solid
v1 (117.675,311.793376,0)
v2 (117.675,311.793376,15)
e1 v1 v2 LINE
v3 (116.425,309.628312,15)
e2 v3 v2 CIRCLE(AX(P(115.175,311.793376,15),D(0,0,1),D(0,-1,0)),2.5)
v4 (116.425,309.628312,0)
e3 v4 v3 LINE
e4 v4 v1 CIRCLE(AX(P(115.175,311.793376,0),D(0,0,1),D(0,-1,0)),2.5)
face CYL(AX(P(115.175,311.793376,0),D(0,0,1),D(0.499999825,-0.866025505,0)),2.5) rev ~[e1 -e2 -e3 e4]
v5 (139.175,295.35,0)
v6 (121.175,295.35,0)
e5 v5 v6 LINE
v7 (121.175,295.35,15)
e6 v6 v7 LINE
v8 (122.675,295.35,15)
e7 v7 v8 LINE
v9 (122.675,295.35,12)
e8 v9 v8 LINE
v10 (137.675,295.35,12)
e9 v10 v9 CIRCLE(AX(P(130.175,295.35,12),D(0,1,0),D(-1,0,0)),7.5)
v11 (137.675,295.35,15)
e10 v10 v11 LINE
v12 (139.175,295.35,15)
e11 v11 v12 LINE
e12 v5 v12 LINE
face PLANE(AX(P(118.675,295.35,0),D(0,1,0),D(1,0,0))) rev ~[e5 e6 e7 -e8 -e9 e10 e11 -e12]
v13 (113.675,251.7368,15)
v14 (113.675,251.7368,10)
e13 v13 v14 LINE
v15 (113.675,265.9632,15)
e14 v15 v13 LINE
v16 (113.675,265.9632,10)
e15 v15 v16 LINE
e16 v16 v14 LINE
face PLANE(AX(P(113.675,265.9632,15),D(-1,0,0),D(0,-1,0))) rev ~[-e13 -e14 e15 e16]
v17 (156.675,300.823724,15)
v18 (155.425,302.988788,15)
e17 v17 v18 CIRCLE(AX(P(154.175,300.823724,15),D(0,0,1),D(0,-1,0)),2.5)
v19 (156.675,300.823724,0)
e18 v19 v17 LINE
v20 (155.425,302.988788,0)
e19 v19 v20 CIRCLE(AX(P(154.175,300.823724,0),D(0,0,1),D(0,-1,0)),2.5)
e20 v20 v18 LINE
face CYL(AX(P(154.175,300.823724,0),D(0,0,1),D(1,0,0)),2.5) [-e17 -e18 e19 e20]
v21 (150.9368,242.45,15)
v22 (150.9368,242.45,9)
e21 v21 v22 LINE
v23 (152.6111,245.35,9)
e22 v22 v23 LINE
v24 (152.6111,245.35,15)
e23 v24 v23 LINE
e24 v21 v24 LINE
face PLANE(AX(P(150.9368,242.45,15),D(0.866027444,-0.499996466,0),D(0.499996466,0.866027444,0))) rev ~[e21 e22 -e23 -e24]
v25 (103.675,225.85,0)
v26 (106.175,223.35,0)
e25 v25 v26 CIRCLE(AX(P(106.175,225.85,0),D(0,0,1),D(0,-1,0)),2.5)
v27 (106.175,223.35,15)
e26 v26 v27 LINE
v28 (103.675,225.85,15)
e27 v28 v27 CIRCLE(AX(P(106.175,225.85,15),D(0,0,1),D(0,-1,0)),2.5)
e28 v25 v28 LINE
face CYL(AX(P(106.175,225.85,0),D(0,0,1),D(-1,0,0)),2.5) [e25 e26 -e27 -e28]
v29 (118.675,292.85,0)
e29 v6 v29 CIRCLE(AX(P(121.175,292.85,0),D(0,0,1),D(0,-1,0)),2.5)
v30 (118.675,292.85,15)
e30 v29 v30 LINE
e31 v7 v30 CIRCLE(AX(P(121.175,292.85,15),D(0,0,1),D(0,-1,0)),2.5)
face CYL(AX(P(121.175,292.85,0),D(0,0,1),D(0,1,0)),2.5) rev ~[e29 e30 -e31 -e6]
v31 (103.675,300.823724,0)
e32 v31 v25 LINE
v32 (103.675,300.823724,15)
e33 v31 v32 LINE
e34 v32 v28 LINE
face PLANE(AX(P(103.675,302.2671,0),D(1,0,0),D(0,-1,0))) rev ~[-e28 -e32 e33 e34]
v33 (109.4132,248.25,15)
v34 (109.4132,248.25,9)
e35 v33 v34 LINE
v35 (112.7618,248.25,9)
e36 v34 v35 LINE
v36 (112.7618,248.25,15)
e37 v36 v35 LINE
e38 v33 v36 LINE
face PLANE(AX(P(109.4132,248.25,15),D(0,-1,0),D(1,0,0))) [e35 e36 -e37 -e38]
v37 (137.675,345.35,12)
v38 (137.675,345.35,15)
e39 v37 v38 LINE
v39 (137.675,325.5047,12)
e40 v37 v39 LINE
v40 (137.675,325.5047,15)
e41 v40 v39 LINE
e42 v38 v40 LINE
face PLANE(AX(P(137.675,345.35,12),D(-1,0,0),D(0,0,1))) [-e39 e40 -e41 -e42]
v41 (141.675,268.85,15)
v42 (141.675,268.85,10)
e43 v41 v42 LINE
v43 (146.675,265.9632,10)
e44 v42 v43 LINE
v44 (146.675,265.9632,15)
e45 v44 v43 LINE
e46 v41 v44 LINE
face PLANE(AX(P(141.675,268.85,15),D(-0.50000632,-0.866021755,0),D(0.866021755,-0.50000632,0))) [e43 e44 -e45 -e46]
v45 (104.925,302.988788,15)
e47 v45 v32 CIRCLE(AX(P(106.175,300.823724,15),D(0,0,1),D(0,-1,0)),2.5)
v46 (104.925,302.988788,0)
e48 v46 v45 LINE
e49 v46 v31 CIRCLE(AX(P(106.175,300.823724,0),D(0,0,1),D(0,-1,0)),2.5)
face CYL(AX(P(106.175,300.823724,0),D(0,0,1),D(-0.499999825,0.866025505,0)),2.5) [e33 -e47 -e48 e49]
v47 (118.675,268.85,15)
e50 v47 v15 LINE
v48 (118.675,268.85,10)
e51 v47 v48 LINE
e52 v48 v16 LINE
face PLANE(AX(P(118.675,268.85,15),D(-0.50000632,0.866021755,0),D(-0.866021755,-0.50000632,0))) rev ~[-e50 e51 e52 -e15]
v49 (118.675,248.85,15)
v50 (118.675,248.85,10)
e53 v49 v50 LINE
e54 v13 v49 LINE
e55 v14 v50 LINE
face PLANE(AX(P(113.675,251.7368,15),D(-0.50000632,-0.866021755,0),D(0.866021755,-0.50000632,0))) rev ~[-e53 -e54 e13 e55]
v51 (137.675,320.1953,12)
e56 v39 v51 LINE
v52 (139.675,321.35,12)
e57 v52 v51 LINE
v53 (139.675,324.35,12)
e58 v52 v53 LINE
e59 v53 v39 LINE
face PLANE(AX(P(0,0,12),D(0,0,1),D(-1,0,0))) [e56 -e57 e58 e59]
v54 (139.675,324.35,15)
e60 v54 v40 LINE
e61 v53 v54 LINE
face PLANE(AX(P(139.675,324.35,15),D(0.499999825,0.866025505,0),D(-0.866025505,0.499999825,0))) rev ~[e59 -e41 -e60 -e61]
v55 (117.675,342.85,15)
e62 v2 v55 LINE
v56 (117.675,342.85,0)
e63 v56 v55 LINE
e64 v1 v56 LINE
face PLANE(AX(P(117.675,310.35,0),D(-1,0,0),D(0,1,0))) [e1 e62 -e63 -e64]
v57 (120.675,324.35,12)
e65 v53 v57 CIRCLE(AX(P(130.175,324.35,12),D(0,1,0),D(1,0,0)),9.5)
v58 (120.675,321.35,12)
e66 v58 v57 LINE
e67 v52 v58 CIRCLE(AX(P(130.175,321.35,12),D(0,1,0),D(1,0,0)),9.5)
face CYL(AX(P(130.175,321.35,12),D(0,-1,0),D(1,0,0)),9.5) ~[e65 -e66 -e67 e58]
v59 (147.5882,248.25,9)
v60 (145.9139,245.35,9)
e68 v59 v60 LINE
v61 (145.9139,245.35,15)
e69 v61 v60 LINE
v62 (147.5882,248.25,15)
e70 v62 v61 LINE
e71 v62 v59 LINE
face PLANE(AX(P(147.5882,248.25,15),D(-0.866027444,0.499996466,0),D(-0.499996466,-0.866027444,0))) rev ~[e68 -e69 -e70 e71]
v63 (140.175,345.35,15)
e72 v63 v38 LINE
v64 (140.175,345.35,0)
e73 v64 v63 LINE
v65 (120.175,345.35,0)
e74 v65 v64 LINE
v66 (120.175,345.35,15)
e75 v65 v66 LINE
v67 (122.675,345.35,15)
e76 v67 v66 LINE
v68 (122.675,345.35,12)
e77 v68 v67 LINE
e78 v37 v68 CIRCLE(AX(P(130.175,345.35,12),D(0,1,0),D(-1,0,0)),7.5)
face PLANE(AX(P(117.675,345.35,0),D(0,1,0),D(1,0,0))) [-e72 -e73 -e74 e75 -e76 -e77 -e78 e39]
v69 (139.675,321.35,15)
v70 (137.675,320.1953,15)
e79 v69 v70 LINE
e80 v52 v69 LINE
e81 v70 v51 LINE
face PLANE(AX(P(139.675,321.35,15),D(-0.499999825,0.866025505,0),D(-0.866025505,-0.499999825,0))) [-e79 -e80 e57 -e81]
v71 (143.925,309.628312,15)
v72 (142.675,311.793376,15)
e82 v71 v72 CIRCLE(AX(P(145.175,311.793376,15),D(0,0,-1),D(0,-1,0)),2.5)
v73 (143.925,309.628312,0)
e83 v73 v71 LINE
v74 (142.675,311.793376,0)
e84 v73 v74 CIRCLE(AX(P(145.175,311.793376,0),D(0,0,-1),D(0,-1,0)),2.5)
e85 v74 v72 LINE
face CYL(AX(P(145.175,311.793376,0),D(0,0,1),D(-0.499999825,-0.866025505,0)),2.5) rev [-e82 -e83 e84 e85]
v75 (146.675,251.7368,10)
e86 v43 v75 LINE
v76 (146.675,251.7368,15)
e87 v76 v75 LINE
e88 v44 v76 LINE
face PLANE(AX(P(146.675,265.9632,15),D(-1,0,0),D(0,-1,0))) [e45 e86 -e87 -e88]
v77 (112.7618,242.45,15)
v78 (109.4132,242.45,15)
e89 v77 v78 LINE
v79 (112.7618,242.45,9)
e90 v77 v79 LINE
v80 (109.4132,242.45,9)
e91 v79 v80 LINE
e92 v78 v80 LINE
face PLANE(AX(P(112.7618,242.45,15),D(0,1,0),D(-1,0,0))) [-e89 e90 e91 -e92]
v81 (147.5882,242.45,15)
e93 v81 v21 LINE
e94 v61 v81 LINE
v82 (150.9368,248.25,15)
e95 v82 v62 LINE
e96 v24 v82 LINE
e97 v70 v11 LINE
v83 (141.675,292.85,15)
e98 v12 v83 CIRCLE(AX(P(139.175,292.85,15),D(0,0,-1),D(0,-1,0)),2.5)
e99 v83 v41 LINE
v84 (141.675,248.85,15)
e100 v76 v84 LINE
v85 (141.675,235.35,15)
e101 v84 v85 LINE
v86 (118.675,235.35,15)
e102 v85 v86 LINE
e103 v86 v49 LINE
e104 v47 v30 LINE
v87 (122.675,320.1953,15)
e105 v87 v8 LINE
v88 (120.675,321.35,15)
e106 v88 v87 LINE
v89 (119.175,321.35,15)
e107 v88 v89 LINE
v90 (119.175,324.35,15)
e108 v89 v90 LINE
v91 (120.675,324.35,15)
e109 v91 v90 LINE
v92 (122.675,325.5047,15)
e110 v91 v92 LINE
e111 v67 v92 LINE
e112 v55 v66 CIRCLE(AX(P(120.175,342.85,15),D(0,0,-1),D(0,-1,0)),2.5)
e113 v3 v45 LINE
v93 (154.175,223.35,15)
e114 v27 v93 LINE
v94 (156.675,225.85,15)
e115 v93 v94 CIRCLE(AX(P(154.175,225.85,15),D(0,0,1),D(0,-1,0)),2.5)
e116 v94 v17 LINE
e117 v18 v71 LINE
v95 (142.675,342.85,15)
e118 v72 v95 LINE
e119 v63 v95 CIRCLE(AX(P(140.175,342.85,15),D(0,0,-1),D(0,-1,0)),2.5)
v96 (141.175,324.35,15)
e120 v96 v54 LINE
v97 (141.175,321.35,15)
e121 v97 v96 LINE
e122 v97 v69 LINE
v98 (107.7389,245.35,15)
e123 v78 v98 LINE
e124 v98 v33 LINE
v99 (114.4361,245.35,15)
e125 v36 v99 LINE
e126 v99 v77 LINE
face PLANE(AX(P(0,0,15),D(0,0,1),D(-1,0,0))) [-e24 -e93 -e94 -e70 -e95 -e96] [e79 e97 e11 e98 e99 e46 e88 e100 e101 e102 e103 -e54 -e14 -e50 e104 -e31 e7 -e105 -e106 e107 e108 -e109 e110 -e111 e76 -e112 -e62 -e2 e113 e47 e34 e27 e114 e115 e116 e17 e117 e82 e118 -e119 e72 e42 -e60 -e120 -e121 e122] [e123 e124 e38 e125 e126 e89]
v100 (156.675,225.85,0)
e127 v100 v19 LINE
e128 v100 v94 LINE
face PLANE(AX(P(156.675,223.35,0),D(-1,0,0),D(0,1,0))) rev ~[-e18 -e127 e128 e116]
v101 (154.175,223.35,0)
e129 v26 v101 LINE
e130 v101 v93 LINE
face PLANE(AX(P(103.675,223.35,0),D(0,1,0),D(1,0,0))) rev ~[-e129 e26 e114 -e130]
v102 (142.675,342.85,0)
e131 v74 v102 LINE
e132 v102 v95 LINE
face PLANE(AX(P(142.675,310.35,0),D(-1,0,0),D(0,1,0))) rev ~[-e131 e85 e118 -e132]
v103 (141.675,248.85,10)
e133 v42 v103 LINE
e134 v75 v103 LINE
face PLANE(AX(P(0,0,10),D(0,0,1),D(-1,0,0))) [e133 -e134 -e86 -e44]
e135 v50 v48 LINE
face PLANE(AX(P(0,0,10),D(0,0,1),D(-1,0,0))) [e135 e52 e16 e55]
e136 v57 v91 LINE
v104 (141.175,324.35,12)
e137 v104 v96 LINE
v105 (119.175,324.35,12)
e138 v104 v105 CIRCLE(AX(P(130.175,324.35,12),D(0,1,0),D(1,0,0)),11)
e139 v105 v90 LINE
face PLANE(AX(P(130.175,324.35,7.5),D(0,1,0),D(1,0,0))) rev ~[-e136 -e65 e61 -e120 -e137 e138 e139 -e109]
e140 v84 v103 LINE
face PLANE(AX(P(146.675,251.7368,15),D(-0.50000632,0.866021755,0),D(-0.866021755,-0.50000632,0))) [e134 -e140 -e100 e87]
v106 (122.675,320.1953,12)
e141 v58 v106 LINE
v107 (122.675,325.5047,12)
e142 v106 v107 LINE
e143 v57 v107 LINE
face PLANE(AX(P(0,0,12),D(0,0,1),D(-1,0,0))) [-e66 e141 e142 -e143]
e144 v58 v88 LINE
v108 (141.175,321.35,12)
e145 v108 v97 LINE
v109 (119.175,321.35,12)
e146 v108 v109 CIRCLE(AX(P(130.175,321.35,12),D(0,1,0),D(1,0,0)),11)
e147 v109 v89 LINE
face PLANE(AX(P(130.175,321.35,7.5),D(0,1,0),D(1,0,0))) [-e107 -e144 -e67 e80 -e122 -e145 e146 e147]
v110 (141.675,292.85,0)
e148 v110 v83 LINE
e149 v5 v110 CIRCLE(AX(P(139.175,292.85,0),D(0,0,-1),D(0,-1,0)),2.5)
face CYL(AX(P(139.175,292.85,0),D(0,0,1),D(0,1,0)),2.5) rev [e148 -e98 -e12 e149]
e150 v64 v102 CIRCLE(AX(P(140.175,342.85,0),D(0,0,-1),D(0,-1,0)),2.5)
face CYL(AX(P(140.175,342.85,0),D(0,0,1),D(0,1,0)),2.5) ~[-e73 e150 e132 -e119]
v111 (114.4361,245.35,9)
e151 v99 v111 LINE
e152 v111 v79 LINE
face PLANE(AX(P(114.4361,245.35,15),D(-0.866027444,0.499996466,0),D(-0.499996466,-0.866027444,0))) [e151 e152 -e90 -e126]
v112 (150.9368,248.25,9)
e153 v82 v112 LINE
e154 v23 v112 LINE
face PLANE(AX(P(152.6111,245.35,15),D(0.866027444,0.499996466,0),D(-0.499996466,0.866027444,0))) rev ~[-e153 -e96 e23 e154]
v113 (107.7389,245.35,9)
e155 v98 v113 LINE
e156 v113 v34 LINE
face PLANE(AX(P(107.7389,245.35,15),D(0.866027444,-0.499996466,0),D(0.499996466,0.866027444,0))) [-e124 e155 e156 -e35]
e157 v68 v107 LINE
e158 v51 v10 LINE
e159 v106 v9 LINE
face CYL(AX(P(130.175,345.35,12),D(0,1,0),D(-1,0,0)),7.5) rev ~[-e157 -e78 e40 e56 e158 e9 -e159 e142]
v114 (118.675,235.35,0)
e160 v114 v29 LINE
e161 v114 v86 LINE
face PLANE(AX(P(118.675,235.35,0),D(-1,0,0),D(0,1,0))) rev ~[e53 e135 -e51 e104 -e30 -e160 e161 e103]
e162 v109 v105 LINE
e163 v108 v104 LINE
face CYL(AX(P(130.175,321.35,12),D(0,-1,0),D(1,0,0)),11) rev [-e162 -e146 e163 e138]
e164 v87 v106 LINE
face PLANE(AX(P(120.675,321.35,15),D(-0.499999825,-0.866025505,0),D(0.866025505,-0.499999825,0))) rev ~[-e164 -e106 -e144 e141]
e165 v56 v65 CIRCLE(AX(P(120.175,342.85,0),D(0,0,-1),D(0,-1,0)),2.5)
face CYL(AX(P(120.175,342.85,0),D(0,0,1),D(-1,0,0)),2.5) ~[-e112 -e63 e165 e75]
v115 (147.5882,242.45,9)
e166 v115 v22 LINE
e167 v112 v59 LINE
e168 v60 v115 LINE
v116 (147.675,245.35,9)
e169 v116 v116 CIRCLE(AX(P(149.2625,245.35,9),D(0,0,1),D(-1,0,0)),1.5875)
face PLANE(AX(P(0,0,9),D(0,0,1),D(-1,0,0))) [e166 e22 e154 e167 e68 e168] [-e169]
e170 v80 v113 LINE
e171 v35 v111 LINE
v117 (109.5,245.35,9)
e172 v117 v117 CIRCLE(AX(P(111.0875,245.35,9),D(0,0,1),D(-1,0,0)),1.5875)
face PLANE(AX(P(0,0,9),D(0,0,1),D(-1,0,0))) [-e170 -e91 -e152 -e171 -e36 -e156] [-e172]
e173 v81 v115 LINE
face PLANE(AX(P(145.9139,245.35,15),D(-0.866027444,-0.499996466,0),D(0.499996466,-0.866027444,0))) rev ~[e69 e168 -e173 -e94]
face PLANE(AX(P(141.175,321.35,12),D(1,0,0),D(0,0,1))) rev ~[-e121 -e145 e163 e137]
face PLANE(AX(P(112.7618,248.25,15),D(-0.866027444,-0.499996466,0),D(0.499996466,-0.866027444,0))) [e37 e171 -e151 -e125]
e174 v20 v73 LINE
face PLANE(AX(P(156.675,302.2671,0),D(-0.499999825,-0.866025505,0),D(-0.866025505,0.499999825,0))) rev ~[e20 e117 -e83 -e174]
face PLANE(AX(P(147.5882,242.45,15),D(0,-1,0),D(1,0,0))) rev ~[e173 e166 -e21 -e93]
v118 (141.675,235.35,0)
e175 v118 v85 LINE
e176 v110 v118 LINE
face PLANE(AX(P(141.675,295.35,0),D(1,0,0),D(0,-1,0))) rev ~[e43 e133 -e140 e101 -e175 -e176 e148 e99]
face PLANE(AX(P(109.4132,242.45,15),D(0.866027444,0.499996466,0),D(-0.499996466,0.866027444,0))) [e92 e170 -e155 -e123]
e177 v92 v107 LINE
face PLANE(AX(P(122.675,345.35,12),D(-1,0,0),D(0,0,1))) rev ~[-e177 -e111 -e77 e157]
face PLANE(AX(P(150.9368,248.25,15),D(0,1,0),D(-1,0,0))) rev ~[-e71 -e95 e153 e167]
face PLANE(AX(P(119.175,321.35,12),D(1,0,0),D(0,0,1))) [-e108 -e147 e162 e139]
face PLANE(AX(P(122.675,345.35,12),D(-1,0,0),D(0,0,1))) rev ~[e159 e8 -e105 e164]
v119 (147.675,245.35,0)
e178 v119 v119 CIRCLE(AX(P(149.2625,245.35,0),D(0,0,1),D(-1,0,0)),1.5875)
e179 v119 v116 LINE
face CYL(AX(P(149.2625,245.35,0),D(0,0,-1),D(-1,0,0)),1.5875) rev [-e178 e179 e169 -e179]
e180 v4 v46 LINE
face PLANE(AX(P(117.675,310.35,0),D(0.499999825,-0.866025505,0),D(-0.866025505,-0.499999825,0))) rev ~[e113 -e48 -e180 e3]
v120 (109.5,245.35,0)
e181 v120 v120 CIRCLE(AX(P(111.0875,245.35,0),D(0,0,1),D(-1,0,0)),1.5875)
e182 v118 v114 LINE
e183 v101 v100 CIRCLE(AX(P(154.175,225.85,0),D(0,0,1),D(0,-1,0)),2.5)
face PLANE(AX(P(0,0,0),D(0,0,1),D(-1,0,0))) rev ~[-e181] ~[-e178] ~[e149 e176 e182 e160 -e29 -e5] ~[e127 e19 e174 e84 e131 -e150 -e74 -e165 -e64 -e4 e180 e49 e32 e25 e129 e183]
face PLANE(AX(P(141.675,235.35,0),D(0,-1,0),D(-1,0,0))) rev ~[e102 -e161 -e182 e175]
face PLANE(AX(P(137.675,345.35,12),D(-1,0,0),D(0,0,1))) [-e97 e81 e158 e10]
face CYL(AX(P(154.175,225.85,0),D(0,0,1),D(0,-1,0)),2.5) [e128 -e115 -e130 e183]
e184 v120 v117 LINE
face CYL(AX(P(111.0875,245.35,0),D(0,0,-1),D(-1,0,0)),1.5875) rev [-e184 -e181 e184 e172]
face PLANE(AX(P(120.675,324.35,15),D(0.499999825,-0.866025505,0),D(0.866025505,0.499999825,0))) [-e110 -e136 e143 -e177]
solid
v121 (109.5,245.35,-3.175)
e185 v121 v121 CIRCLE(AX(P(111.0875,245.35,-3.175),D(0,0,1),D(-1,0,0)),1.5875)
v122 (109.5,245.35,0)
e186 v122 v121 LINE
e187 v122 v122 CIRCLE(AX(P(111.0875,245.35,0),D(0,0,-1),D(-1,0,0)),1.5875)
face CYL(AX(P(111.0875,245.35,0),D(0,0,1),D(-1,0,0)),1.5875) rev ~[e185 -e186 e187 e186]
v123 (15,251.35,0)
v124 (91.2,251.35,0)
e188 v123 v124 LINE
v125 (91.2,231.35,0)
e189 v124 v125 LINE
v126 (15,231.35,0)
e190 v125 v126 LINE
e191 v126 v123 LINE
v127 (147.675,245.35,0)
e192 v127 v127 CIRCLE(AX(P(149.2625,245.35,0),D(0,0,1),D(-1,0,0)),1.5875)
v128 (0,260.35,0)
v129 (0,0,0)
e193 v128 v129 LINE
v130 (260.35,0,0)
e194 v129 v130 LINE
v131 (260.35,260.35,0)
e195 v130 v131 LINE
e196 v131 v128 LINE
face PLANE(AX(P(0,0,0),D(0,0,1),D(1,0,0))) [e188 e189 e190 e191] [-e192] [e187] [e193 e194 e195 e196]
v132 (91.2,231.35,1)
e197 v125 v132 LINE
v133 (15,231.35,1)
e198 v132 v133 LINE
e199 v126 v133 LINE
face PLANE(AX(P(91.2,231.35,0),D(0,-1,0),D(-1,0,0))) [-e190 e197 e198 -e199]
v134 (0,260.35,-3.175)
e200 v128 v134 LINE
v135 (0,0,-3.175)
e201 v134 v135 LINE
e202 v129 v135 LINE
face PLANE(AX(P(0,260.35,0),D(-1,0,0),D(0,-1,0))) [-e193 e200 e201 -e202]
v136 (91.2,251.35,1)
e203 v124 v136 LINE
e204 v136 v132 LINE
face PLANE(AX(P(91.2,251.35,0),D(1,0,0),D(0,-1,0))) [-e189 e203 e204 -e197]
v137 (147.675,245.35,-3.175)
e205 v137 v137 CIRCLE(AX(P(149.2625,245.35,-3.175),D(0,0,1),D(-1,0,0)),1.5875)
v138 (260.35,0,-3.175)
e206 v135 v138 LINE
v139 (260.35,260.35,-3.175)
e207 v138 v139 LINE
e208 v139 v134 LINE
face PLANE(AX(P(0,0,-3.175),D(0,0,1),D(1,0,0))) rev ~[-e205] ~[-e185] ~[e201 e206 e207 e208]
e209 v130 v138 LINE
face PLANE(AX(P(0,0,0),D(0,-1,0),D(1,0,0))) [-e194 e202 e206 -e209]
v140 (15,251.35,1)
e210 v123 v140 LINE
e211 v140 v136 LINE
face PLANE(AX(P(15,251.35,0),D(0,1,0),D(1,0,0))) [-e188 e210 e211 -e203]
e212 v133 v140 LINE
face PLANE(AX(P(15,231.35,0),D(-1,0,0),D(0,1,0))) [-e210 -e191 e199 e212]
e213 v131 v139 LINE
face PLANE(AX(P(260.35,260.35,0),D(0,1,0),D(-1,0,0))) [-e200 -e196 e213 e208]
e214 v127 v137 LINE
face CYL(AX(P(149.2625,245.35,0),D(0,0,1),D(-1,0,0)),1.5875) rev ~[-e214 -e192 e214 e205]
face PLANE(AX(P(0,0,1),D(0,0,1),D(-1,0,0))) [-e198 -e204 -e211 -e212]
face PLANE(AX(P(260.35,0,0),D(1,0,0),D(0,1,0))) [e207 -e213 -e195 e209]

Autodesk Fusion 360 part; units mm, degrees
sketch "Sketch1" plane through (0, 0, 0) normal (0, 0, 1) x (1, 0, 0) in component "BedPlate"
  line L0 (0, 0) -> (260.35, 0)
  line L1 (260.35, 0) -> (260.35, 260.35)
  line L2 (260.35, 260.35) -> (0, 260.35)
  line L3 (0, 260.35) -> (0, 0)
  dimension "d1" = 260.35
  dimension "d2" = 260.35
extrude "Extrude1" add sketch "Sketch1" against normal blind 3.175 makes body 1 in component "BedPlate"
sketch "Sketch2" plane through (0, 0, 0) normal (0, 0, 1) x (-1, 0, 0) in component "BedPlate"
  circle A0 centre (-111.0875, -245.35) radius 1.5875
  circle A1 centre (-149.2625, -245.35) radius 1.5875
  line L0 (-118.675, -245.35) -> (-141.675, -245.35) construction
  line L1 (-260.35, -260.35) -> (0, -260.35)
  line L2 (-130.175, -260.35) -> (-130.175, -245.35) construction
  line L3 (-112.675, -245.35) -> (-147.675, -245.35)
  line L4 (-118.675, -245.35) -> (-118.675, -260.35) construction
  line L5 (-141.675, -245.35) -> (-141.675, -260.35) construction
  dimension "d5" = 23
  dimension "d7" = 3.175
  dimension "d8" = 3.175
  dimension "d9" = 6
  dimension "d10" = 15
extrude "Extrude2" cut sketch "Sketch2" against normal through all bodies 1 in component "BedPlate"
sketch "Sketch1 (2)" plane through (0, 0, 0) normal (0, 0, 1) x (-1, 0, 0) in component "WireSupportBracket"
  line L0 (-103.675, -302.2671) -> (-103.675, -223.35)
  line L1 (-103.675, -223.35) -> (-156.675, -223.35)
  line L2 (-156.675, -223.35) -> (-156.675, -302.2671)
  line L3 (-141.675, -295.35) -> (-141.675, -235.35)
  line L4 (-141.675, -235.35) -> (-118.675, -235.35)
  line L5 (-118.675, -235.35) -> (-118.675, -295.35)
  circle A0 centre (-149.2625, -245.35) radius 1.5875
  circle A1 centre (-111.0875, -245.35) radius 1.5875
  line L6 (-149.2625, -245.35) -> (-111.0875, -245.35) construction
  line L7 (-130.175, -356.4968) -> (-130.175, -223.35) construction
  line L8 (-260.35, -260.35) -> (0, -260.35) construction
  line L9 (-118.675, -295.35) -> (-141.675, -295.35)
  line L10 (-122.675, -345.35) -> (-122.675, -295.35)
  line L11 (-137.675, -295.35) -> (-137.675, -345.35)
  line L12 (-117.675, -310.35) -> (-103.675, -302.2671)
  line L13 (-156.675, -302.2671) -> (-142.675, -310.35)
  line L14 (-117.675, -310.35) -> (-117.675, -345.35)
  line L15 (-142.675, -310.35) -> (-142.675, -345.35)
  line L16 (-122.675, -313.5082) -> (-137.675, -313.5082) construction
  line L17 (-117.675, -345.35) -> (-142.675, -345.35)
  line L18 (-145.9139, -245.35) -> (-147.5882, -242.45)
  line L19 (-147.5882, -242.45) -> (-150.9368, -242.45)
  line L20 (-150.9368, -242.45) -> (-152.6111, -245.35)
  line L21 (-152.6111, -245.35) -> (-150.9368, -248.25)
  line L22 (-150.9368, -248.25) -> (-147.5882, -248.25)
  line L23 (-147.5882, -248.25) -> (-145.9139, -245.35)
  line L24 (-114.4361, -245.35) -> (-112.7618, -242.45)
  line L25 (-112.7618, -242.45) -> (-109.4132, -242.45)
  line L26 (-109.4132, -242.45) -> (-107.7389, -245.35)
  line L27 (-107.7389, -245.35) -> (-109.4132, -248.25)
  line L28 (-109.4132, -248.25) -> (-112.7618, -248.25)
  line L29 (-112.7618, -248.25) -> (-114.4361, -245.35)
  point P0 (0, 0.0158)
  dimension "d12" = 23
  dimension "d14" = 25
  dimension "d15" = 12
  dimension "d16" = 15
  dimension "d18" = 15
  dimension "d19" = 50
  dimension "d20" = 15
  dimension "d21" = 60
  dimension "d22" = 15
  dimension "d23" = 5
  dimension "d25" = 50
  dimension "d26" = 5.8
extrude "Extrude1'" add sketch "Sketch1 (2)" along normal blind 15 separate body contours L0 L1 L2 L3 L4 L5 L9 L10 L11 L12 L13 L14 L15 L17 | L9 L10 L11 L17 | L18 L19 L20 L21 L22 L23 | L24 L25 L26 L27 L28 L29 makes body 2 in component "WireSupportBracket"
extrude "Extrude2'" cut sketch "Sketch1 (2)" against normal blind 6 from surface at 15 contours L18 L19 L20 L21 L22 L23 | L24 L25 L26 L27 L28 L29 bodies 2 in component "WireSupportBracket"
sketch "Sketch2 (2)" plane through (0, 345.35, 0) normal (0, 1, 0) x (-1, 0, 0) in component "WireSupportBracket"
  circle A0 centre (-130.175, 12) radius 7.5
  line L0 (-122.675, 0) -> (-122.675, 19.5)
  line L1 (-137.675, 0) -> (-137.675, 19.5)
  line L2 (-137.675, 19.5) -> (-122.675, 19.5)
  line L3 (-117.675, 0) -> (-142.675, 0) construction
  dimension "d32" = 12
extrude "Extrude3" cut sketch "Sketch2 (2)" against normal up to surface (50 mm away) bodies 2 in component "WireSupportBracket"
ref_plane "WorkPlane1" through (130.175, 321.35, 7.5) normal (0, 1, 0) x (-1, 0, 0) in component "WireSupportBracket"
sketch "Sketch3" plane through (130.175, 321.35, 7.5) normal (0, 1, 0) x (1, 0, 0) in component "WireSupportBracket"
  arc A0 (7.5, -4.5) -> (-7.5, -4.5) centre (0, -4.5) ccw
  line L0 (7.5, -4.5) -> (7.5, -7.5)
  line L1 (-7.5, -4.5) -> (-7.5, -7.5)
  line L2 (-9.5, -4.5) -> (-9.5, -7.5)
  arc A1 (9.5, -4.5) -> (-9.5, -4.5) centre (0, -4.5) ccw
  line L3 (9.5, -4.5) -> (9.5, -7.5)
  line L4 (11, -4.5) -> (11, -7.5)
  arc A2 (11, -4.5) -> (-11, -4.5) centre (0, -4.5) ccw
  line L5 (-11, -4.5) -> (-11, -7.5)
  line L6 (-9.5, -7.5) -> (-11, -7.5)
  line L7 (11, -7.5) -> (9.5, -7.5)
  line L8 (11.5, -7.5) -> (-11.5, -7.5)
  dimension "d36" = 2
  dimension "d38" = 3.5
extrude "Extrude4" cut sketch "Sketch3" along normal blind 3 contours L2 A1 L3 L4 A2 L5 L6 L7 L8 bodies 2 in component "WireSupportBracket"
fillet "Fillet1" radius 2.5 10 edges at (156.675, 223.35, 7.5) (156.675, 302.2671, 7.5) (142.675, 310.35, 7.5) (142.675, 345.35, 7.5) (117.675, 345.35, 7.5) (117.675, 310.35, 7.5) (103.675, 302.2671, 7.5) (103.675, 223.35, 7.5) (141.675, 295.35, 7.5) (118.675, 295.35, 7.5) on bodies 2 in component "WireSupportBracket"
sketch "Sketch3 (2)" plane through (0, 0, 0) normal (0, 0, 1) x (-1, 0, 0) in component "BedPlate"
  line L0 (-15, -251.35) -> (-91.2, -251.35)
  line L1 (-91.2, -251.35) -> (-91.2, -231.35)
  line L2 (-91.2, -231.35) -> (-15, -231.35)
  line L3 (-15, -231.35) -> (-15, -251.35)
  line L4 (0, -260.35) -> (0, 0)
  line L5 (-260.35, -260.35) -> (0, -260.35)
  dimension "d42" = 76.2
  dimension "d43" = 20
  dimension "d44" = 15
  dimension "d45" = 9
extrude "Extrude3'" add sketch "Sketch3 (2)" along normal blind 1 bodies 1 in component "BedPlate"
sketch "Sketch4" plane through (0, 0, 15) normal (0, 0, 1) x (-1, 0, 0) in component "WireSupportBracket"
  line L0 (-141.675, -268.85) -> (-146.675, -265.9632)
  line L1 (-146.675, -265.9632) -> (-146.675, -251.7368)
  line L2 (-146.675, -251.7368) -> (-141.675, -248.85)
  line L3 (-106.175, -223.35) -> (-154.175, -223.35)
  line L4 (-141.675, -292.85) -> (-141.675, -235.35)
  line L5 (-130.175, -223.35) -> (-130.175, -293.582) construction
  line L6 (-146.675, -258.85) -> (-141.675, -258.85) construction
  line L7 (-118.675, -268.85) -> (-113.675, -265.9632)
  line L8 (-113.675, -265.9632) -> (-113.675, -251.7368)
  line L9 (-113.675, -251.7368) -> (-118.675, -248.85)
  line L10 (-118.675, -235.35) -> (-118.675, -292.85)
  line L11 (-141.175, -321.35) -> (-139.675, -321.35)
  line L12 (-139.675, -324.35) -> (-141.175, -324.35)
  line L13 (-137.675, -345.35) -> (-137.675, -295.35)
  line L14 (-139.675, -321.35) -> (-137.675, -320.1953)
  line L15 (-139.675, -324.35) -> (-137.675, -325.5047)
  line L16 (-137.675, -322.85) -> (-139.675, -322.85) construction
  line L17 (-139.675, -321.35) -> (-139.675, -324.35)
  line L18 (-120.675, -321.35) -> (-122.675, -320.1953)
  line L19 (-120.675, -324.35) -> (-122.675, -325.5047)
  line L20 (-120.675, -321.35) -> (-120.675, -324.35)
  line L21 (-122.675, -295.35) -> (-122.675, -345.35)
  dimension "d48" = 24
  dimension "d49" = 5
  dimension "d50" = 20
  dimension "d51" = 60
  dimension "d52" = 60
extrude "Extrude5" cut sketch "Sketch4" against normal blind 3 contours L13 L14 L15 L17 | L18 L19 L20 L21 bodies 2 in component "WireSupportBracket"
extrude "Extrude6" cut sketch "Sketch4" against normal blind 5 contours L0 L1 L2 L4 | L7 L8 L9 L10 bodies 2 in component "WireSupportBracket"
component "BedPlate" placed x (1, 0, 0) y (0, 1, 0) z (0, 0, 1) at (0, 0, 0)
component "WireSupportBracket" placed x (1, 0, 0) y (0, 1, 0) z (0, 0, 1) at (0, 0, 0)
equation "d8 = d7"
